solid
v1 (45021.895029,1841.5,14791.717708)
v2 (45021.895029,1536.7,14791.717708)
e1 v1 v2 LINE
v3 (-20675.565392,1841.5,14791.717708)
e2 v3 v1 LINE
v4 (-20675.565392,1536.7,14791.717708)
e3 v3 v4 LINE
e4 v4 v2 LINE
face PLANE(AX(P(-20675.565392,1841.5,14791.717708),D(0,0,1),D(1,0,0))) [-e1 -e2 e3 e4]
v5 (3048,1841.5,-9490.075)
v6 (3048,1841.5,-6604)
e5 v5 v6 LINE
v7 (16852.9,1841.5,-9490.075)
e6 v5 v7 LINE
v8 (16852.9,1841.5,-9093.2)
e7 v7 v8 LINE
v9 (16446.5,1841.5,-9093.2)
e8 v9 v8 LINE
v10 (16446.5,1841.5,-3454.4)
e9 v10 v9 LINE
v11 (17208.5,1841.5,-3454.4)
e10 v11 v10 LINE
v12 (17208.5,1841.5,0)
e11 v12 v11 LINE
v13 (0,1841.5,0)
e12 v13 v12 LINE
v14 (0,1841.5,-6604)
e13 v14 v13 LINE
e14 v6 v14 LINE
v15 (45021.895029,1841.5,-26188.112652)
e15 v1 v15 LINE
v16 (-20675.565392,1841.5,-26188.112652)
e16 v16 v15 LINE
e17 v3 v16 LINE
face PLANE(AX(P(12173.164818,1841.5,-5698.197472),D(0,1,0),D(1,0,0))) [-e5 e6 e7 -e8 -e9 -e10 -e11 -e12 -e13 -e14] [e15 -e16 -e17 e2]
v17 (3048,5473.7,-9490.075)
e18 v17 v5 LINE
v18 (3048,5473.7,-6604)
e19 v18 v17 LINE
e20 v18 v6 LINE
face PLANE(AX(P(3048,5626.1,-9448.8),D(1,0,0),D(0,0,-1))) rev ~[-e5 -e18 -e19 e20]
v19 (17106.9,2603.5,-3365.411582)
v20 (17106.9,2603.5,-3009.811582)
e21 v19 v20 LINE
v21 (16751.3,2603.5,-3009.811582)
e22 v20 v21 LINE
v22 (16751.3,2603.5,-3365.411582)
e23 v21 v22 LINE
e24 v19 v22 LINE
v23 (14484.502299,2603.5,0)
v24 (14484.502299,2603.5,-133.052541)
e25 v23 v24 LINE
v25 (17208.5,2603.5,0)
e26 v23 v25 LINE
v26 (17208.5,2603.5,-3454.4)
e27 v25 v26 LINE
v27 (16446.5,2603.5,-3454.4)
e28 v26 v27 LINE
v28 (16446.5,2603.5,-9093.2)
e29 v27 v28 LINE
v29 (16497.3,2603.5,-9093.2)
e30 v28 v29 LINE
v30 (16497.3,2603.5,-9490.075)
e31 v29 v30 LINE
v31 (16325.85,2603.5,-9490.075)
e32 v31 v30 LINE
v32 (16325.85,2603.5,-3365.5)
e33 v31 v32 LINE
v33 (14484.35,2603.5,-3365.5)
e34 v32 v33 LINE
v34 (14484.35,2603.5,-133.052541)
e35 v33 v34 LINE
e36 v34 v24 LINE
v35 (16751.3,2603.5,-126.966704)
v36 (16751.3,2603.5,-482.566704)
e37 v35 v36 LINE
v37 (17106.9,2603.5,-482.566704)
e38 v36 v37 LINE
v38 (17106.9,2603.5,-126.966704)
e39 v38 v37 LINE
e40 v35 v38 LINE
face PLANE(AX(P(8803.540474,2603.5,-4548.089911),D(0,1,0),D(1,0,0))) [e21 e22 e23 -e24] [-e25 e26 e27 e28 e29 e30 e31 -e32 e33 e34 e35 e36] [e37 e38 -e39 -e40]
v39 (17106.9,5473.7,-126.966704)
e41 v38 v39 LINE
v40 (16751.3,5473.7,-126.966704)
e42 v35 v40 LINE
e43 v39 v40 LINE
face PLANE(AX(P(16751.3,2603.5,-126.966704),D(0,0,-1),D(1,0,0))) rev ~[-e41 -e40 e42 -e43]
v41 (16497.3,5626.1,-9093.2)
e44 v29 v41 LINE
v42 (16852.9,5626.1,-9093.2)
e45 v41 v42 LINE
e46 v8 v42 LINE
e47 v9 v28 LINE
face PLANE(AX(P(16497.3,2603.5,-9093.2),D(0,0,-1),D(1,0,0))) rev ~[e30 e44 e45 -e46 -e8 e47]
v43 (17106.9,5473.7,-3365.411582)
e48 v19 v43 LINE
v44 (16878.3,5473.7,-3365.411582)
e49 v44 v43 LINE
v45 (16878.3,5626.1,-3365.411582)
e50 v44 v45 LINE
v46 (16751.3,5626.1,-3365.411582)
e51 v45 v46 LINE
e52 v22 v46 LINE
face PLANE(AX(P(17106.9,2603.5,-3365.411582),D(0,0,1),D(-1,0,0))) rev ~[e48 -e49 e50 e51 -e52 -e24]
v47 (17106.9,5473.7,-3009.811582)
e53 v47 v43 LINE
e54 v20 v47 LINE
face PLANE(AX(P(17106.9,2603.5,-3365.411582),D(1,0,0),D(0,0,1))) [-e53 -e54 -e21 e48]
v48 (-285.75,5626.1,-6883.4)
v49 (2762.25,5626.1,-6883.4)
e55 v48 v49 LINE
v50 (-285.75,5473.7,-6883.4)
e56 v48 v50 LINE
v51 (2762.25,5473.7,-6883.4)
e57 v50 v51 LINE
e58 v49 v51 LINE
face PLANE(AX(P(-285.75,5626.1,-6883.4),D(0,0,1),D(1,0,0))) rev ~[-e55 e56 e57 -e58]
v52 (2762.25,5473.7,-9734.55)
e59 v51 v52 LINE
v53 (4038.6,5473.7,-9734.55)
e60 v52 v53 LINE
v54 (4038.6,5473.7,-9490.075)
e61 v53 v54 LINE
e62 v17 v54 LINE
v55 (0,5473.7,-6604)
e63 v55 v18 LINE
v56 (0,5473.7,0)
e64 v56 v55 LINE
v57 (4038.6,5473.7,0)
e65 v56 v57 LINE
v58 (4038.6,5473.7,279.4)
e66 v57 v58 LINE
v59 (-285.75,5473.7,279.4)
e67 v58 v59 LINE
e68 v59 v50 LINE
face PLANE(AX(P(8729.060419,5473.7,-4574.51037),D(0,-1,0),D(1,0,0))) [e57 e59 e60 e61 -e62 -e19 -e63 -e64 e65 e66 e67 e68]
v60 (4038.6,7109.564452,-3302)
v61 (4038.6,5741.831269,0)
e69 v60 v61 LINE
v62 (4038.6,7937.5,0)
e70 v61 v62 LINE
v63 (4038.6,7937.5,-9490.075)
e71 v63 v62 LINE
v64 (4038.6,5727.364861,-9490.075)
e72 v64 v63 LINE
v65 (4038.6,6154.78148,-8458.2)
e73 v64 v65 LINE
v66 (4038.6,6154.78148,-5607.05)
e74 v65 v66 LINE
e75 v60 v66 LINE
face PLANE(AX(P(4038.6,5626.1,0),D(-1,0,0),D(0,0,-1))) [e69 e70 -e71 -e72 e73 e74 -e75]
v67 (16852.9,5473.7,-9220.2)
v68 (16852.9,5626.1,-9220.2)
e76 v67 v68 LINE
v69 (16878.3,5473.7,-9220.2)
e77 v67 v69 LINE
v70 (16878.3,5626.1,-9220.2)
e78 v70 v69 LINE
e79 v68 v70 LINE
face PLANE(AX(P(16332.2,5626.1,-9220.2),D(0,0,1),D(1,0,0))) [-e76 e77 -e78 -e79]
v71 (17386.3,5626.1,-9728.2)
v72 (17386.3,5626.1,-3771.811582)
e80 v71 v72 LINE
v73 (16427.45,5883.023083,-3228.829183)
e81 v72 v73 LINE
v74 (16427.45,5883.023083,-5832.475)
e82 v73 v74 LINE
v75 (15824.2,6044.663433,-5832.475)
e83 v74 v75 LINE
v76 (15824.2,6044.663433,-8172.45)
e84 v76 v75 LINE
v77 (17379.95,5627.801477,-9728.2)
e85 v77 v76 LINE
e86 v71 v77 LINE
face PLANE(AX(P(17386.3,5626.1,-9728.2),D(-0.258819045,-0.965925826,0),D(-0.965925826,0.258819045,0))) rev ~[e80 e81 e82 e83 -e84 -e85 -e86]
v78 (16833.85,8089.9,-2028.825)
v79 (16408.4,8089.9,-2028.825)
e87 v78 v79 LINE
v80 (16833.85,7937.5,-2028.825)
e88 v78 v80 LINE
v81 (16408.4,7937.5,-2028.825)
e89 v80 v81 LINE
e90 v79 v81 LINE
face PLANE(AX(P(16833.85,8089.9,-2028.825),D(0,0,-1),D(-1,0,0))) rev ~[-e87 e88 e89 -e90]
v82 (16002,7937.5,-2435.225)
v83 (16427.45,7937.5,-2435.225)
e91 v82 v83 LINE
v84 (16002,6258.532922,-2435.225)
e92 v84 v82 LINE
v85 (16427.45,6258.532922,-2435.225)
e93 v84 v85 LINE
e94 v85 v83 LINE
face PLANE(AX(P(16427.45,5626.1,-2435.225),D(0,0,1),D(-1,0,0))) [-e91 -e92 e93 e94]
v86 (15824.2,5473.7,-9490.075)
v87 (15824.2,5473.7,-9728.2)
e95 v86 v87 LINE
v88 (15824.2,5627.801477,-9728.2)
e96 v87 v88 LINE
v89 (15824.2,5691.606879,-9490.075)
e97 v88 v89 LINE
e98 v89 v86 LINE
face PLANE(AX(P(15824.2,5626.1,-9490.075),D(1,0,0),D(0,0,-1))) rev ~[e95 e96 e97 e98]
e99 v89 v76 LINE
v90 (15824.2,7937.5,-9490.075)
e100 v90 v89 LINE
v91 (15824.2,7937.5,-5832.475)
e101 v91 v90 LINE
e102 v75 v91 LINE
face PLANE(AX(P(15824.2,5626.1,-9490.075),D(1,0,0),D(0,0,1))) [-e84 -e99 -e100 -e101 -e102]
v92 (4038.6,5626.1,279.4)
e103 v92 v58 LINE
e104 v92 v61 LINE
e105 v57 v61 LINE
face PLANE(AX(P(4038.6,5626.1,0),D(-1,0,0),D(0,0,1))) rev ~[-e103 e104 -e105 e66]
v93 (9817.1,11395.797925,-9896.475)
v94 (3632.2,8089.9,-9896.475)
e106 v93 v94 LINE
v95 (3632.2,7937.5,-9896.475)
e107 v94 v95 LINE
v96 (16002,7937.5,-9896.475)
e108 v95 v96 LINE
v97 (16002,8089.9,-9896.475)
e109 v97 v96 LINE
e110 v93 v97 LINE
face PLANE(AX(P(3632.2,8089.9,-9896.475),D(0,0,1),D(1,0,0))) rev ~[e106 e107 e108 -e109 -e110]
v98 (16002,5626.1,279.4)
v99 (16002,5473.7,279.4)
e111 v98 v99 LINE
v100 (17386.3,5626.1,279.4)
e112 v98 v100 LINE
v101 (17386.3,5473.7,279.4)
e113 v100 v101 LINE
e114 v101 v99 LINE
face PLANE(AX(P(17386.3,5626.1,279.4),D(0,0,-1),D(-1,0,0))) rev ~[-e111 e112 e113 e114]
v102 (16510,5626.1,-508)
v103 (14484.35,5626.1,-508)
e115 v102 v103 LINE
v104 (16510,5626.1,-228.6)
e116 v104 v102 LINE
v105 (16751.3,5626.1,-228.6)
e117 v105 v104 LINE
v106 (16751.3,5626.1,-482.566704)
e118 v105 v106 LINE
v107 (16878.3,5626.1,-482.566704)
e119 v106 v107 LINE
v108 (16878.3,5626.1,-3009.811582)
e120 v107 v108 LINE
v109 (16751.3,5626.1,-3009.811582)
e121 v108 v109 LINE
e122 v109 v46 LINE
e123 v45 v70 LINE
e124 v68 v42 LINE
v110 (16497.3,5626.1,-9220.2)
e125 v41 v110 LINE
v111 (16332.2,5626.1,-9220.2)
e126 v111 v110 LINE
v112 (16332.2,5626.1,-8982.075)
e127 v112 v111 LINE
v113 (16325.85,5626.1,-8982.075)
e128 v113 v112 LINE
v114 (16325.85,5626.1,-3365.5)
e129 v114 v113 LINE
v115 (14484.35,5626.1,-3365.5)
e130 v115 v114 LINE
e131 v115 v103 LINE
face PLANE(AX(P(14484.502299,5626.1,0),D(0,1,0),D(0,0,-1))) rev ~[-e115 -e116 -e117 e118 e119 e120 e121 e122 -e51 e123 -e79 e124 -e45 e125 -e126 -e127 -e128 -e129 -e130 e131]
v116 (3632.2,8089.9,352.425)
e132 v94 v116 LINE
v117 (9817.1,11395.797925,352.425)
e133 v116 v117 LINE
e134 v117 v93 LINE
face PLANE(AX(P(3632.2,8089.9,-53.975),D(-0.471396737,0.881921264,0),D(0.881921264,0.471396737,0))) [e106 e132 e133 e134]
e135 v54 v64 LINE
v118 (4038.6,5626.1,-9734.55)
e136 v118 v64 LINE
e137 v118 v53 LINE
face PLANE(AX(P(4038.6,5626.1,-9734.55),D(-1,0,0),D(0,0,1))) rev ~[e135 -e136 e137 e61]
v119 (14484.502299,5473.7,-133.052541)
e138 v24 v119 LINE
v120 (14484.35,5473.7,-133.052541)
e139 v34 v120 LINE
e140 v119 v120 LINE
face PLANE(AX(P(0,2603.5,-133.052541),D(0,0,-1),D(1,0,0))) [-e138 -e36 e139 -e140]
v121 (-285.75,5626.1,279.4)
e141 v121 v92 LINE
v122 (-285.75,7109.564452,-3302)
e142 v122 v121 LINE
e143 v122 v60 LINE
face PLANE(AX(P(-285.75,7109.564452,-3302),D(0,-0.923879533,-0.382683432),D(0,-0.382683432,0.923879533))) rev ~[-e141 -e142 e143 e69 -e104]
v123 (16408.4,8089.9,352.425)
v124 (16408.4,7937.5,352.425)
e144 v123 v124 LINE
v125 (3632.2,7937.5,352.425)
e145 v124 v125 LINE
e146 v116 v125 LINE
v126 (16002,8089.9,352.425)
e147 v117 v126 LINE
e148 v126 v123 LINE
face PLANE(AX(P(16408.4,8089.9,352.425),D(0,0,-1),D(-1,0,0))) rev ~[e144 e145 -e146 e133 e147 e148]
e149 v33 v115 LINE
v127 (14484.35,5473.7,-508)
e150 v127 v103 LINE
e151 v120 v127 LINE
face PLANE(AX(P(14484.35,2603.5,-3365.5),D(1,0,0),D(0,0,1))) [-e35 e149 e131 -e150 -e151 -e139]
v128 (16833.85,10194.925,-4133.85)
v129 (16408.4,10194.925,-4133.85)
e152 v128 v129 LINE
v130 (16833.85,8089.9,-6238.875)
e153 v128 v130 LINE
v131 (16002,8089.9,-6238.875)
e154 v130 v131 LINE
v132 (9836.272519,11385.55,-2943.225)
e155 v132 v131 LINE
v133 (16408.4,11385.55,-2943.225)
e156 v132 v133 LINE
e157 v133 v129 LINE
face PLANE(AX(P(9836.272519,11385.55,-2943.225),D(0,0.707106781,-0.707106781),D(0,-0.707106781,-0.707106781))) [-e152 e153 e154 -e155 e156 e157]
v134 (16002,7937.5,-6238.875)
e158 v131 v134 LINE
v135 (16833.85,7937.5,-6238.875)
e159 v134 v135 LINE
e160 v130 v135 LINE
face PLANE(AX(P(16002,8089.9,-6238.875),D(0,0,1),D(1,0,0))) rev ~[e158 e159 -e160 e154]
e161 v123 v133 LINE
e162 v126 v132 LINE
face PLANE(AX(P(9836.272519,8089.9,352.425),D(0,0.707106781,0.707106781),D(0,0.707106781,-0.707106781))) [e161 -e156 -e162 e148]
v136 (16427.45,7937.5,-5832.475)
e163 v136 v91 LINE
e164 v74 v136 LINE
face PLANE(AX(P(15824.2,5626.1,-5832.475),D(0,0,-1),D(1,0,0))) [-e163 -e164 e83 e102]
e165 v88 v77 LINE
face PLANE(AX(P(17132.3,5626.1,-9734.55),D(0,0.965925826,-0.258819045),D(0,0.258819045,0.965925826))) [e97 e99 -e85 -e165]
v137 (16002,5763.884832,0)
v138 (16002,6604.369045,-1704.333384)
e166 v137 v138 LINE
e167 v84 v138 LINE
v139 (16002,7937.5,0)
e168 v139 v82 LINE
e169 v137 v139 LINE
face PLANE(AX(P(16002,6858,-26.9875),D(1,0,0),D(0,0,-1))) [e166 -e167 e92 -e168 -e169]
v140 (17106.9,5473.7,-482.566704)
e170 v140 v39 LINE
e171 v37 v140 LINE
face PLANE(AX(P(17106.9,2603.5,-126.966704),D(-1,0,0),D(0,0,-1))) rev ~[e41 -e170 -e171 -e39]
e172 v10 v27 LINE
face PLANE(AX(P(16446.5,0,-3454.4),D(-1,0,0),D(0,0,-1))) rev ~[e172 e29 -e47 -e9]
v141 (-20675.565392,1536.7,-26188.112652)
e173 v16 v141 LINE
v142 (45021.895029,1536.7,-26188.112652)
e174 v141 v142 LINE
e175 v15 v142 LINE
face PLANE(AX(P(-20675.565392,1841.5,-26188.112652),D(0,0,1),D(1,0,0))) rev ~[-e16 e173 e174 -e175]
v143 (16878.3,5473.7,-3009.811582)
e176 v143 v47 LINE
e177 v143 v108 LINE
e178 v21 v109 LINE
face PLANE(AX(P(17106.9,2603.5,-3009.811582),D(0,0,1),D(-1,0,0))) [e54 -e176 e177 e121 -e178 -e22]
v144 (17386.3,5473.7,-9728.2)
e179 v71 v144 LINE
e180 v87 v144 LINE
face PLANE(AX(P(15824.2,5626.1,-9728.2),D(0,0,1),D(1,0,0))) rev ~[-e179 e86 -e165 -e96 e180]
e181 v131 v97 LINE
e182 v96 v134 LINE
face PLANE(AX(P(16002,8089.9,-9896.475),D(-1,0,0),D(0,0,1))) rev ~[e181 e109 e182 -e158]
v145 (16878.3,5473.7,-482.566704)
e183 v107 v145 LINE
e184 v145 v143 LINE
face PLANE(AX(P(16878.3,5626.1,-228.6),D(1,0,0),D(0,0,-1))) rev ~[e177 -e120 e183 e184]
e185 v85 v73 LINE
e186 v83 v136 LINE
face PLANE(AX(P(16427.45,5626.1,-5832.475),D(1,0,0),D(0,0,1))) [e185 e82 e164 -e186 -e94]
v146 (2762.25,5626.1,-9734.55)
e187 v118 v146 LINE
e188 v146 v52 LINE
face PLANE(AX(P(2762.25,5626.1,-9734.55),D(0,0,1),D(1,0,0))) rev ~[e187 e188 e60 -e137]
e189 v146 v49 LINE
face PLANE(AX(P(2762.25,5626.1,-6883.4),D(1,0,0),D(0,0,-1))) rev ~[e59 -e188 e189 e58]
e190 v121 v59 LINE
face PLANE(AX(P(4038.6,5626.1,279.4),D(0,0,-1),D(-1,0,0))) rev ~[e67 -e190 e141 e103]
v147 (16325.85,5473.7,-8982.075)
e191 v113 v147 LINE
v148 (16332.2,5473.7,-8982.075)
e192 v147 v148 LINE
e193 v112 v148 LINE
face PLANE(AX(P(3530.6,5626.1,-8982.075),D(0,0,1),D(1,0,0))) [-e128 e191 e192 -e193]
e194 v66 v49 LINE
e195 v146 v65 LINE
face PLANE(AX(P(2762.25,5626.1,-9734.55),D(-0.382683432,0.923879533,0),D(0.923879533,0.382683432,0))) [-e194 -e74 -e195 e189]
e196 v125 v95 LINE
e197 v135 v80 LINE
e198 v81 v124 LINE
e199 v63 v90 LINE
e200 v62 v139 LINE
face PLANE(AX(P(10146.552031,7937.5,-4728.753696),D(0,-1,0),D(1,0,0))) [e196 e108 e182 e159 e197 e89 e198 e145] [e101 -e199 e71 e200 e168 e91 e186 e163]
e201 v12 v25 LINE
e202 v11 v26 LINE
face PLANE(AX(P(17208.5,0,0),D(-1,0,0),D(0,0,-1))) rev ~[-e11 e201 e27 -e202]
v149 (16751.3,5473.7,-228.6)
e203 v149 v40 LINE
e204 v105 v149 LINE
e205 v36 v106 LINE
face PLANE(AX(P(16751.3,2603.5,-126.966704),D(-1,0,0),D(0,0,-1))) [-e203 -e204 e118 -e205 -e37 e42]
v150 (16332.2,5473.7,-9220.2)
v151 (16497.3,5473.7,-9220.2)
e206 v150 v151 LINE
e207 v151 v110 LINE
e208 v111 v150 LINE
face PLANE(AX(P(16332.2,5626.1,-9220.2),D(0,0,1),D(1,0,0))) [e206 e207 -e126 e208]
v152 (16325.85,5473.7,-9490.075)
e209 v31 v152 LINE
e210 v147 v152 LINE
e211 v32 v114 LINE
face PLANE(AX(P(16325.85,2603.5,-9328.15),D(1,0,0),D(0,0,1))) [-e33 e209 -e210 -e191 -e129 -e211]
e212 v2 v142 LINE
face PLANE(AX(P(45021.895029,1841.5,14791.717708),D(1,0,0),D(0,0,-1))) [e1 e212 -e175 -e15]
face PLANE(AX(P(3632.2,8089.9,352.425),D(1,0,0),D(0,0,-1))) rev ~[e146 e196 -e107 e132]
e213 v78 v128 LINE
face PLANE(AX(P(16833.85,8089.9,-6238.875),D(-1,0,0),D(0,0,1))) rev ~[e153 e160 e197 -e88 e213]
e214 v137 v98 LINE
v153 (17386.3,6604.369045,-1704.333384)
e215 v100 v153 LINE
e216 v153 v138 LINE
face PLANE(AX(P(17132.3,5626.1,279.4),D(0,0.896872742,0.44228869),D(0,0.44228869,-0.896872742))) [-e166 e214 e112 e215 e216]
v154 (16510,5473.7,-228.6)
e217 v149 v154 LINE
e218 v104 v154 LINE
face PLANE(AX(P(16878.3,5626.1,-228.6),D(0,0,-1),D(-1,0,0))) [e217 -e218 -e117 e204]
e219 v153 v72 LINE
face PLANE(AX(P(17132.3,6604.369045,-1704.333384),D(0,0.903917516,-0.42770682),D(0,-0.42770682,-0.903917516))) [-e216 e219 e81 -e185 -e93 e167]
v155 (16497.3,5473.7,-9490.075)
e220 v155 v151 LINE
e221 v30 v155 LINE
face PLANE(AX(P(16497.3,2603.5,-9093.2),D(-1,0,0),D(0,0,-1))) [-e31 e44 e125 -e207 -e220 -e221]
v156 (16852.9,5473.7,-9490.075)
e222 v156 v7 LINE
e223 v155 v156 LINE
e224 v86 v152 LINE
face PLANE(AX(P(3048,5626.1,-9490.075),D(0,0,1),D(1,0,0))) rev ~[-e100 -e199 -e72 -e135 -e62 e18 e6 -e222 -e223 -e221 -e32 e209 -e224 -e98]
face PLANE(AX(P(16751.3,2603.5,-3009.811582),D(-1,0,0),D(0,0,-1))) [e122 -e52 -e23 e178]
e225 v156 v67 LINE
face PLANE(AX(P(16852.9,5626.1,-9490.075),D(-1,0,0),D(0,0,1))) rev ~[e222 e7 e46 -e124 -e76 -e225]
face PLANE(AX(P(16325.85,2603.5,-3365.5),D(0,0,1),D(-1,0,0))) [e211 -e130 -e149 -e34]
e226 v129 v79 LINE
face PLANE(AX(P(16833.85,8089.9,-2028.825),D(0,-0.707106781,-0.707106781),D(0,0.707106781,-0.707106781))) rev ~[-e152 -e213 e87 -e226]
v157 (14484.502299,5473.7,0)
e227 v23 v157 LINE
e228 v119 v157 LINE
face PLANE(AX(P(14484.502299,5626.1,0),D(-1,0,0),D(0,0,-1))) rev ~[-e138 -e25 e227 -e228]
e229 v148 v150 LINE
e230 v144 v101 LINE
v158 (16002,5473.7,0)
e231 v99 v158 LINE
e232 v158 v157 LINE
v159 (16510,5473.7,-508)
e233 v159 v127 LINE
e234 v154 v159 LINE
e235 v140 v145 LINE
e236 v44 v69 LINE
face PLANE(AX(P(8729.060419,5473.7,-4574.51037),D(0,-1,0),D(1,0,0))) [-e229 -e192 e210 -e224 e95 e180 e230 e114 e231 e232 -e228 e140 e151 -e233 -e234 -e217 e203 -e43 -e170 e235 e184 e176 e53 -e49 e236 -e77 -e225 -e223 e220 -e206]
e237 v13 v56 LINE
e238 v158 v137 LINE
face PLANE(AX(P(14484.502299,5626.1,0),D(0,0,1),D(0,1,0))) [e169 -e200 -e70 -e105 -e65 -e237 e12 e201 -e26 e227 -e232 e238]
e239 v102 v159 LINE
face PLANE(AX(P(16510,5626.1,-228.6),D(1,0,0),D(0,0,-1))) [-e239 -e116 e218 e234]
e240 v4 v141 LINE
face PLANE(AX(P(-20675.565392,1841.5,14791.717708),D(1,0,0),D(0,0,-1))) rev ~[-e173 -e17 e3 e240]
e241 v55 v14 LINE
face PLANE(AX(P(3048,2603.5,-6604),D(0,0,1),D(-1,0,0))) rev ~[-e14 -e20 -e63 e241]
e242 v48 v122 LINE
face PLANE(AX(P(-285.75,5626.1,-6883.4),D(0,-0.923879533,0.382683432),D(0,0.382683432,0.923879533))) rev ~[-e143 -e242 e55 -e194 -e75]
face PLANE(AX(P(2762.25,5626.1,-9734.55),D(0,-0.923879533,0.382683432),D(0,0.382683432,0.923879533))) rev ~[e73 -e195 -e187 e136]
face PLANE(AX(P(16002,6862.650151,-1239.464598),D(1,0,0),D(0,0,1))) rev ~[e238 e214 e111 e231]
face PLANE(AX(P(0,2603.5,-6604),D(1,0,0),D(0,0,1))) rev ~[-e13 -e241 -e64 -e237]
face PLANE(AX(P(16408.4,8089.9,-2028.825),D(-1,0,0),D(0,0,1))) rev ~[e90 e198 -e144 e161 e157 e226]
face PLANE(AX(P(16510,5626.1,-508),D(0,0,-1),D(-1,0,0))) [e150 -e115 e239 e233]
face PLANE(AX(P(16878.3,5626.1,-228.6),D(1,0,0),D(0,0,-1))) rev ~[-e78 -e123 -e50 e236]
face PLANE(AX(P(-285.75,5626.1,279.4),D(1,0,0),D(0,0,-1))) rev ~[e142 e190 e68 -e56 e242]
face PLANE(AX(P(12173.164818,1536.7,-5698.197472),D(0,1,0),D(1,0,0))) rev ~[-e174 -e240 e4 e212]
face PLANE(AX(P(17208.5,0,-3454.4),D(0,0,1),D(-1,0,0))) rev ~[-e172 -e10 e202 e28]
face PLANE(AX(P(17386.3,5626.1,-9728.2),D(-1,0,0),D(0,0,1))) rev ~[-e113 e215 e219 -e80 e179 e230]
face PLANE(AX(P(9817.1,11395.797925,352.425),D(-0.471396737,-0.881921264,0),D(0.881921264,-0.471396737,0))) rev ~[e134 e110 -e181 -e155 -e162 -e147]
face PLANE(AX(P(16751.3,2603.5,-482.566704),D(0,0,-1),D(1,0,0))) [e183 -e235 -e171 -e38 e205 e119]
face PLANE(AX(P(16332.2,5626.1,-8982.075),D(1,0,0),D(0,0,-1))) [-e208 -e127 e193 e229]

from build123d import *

# Parameters (mm, degrees)
BOSS_EXTRUDE1_DEPTH              = 2603.5
BOSS_EXTRUDE2_DEPTH              = 3022.6
BOSS_EXTRUDE3_DEPTH              = 2463.8
SKETCH4_W                        = 65697.460420921
SKETCH4_H                        = 40979.830360303
BOSS_EXTRUDE4_DEPTH              = 304.8
SKETCH5_W                        = 21895.016639369
SKETCH5_H                        = 12322.560301516
CUT_EXTRUDE1_DEPTH               = 1905
BOSS_EXTRUDE5_REACH              = 52955.248
BOSS_EXTRUDE6_REACH              = 51905.327
CUT_EXTRUDE2_DEPTH               = 1276.35
BOSS_EXTRUDE7_REACH              = 51982.038
BOSS_EXTRUDE8_DEPTH              = 406.4
CUT_EXTRUDE3_DEPTH               = 11303
BOSS_EXTRUDE9_REACH              = 47146.859
BOSS_EXTRUDE10_START             = -6572.127481
BOSS_EXTRUDE10_DEPTH             = 6572.127481
SKETCH15_W                       = 355.6
SKETCH15_H                       = 355.6
BOSS_EXTRUDE11_DEPTH             = 3022.6
BOSS_EXTRUDE12_DEPTH             = 7362.952
CUT_EXTRUDE4_DEPTH               = 304.8
CUT_EXTRUDE4_DEPTH_BACK          = 1308.1
BOSS_EXTRUDE13_REACH             = 47384.657
BOSS_EXTRUDE13_DIRECTION_2_DEPTH = 254
SKETCH19_W                       = 14484.502299334
SKETCH19_H                       = 133.052541355
BOSS_EXTRUDE14_DEPTH             = 3022.6
SKETCH20_W                       = 10445.902299334
SKETCH20_H                       = 57.769049229
BOSS_EXTRUDE15_DEPTH             = 2601.214
SKETCH22_W                       = 53.975
SKETCH22_H                       = 2463.8
BOSS_EXTRUDE17_DEPTH             = 1517.497700666
BOSS_EXTRUDE18_DEPTH             = 3022.6
BOSS_EXTRUDE19_DEPTH             = 3784.6
BOSS_EXTRUDE20_DEPTH             = 152.4
BOSS_EXTRUDE21_DEPTH             = 152.4
SKETCH27_W                       = 171.45
SKETCH27_H                       = 2870.2
CUT_EXTRUDE5_DEPTH               = 405.13


with BuildPart() as part:
    # Sketch1 → Boss-Extrude1 (new body)
    with BuildSketch(Plane(origin=(0, 0, 0), x_dir=(1, 0, 0), z_dir=(0, 1, 0))):
        Polygon((0, 0), (17208.5, 0), (17208.5, 3454.4), (16446.5, 3454.4), (16446.5, 9093.2), (16852.9, 9093.2), (16852.9, 9448.8), (16446.5, 9448.8), (3048, 9448.8), (3048, 6604), (0, 6604), align=None)
    extrude(amount=BOSS_EXTRUDE1_DEPTH)

    # Sketch2 → Boss-Extrude2 (add)
    with BuildSketch(Plane(origin=(0, 2603.5, 0), x_dir=(1, 0, 0), z_dir=(0, 1, 0))):
        Polygon((120.65, 127), (120.65, 6477), (3168.65, 6477), (3168.65, 9328.15), (16325.85, 9328.15), (16325.85, 3365.5), (14484.35, 3365.5), (14484.35, 127), align=None)
    extrude(amount=BOSS_EXTRUDE2_DEPTH)

    # Sketch3 → Boss-Extrude3 (add)
    with BuildSketch(Plane(origin=(0, 5626.1, 0), x_dir=(1, 0, 0), z_dir=(0, 1, 0))):
        Polygon((4038.6, 9490.075), (15824.2, 9490.075), (15824.2, 5832.475), (16427.45, 5832.475), (16427.45, 2435.225), (16002, 2435.225), (16002, 53.975), (4038.6, 53.975), align=None)
    extrude(amount=BOSS_EXTRUDE3_DEPTH)

    # Sketch4 → Boss-Extrude4 (add)
    with BuildSketch(Plane(origin=(0, 1841.5, 0), x_dir=(1, 0, 0), z_dir=(0, 1, 0))):
        with Locations((12173.164818329, 5698.197471797)):
            Rectangle(SKETCH4_W, SKETCH4_H)
    extrude(amount=-BOSS_EXTRUDE4_DEPTH)

    # Sketch5 → Cut-Extrude1 (cut)
    with BuildSketch(Plane.XZ.offset(-1536.7)):
        with Locations((8389.493403635, -5047.013792364)):
            Rectangle(SKETCH5_W, SKETCH5_H)
    extrude(amount=CUT_EXTRUDE1_DEPTH, mode=Mode.SUBTRACT)

    # Boss-Extrude5: up to this face of the body (flat: up to its plane)
    boss_extrude5_end = Plane(part.part.faces().sort_by_distance((4038.6, 6858, -4772.025))[0])
    # Sketch6 → Boss-Extrude5 (add, up to the picked face)
    with BuildSketch(Plane.ZY.offset(285.75), mode=Mode.PRIVATE) as boss_extrude5_sk1:
        Polygon((-127, 5626.1), (-6477, 5626.1), (-6883.4, 5626.1), (-3302, 7109.564452283), (279.4, 5626.1), align=None)
    boss_extrude5_tool1 = split(extrude(boss_extrude5_sk1.sketch, amount=-BOSS_EXTRUDE5_REACH, mode=Mode.PRIVATE), bisect_by=boss_extrude5_end, keep=Keep.BOTH, mode=Mode.PRIVATE)
    add(boss_extrude5_tool1.solids().sort_by(Axis((-285.75, 6120.588151, -3302), (1, 0, 0)))[0])

    # Boss-Extrude6: up to this plane
    boss_extrude6_end = Plane(origin=(11353.4048929, 5626.1, -6883.4), z_dir=(0, 0.9238795325112832, -0.38268343236509844))
    # Sketch8 → Boss-Extrude6 (add, up to the surface)
    with BuildSketch(Plane(origin=(0, 0, -9734.55), x_dir=(-1, 0, 0), z_dir=(0, 0, -1)), mode=Mode.PRIVATE) as boss_extrude6_sk1:
        Polygon((-4038.6, 5626.1), (-3168.65, 5626.1), (-2762.25, 5626.1), (-4038.6, 6154.781480335), align=None)
    boss_extrude6_tool1 = split(extrude(boss_extrude6_sk1.sketch, amount=-BOSS_EXTRUDE6_REACH, mode=Mode.PRIVATE), bisect_by=boss_extrude6_end, keep=Keep.BOTH, mode=Mode.PRIVATE)
    add(boss_extrude6_tool1.solids().sort_by_distance((3613.15, 5802.32716, -9734.55))[0])

    # Sketch9 → Cut-Extrude2 (cut)
    with BuildSketch(Plane.ZY.offset(-2762.25)):
        Polygon((-9734.55, 5626.1), (-8458.2, 6154.781480335), (-9734.55, 6154.781480335), align=None)
    extrude(amount=-CUT_EXTRUDE2_DEPTH, mode=Mode.SUBTRACT)

    # Boss-Extrude7: up to this face of the body (flat: up to its plane)
    boss_extrude7_end = Plane(part.part.faces().sort_by_distance((10020.3, 6858, -53.975))[0])
    # Sketch10 → Boss-Extrude7 (add, up to the picked face)
    with BuildSketch(Plane(origin=(0, 0, -9896.475), x_dir=(-1, 0, 0), z_dir=(0, 0, -1)), mode=Mode.PRIVATE) as boss_extrude7_sk1:
        Polygon((-4038.6, 8089.9), (-15824.2, 8089.9), (-16230.6, 8089.9), (-9931.4, 11456.892547581), (-3632.2, 8089.9), align=None)
    boss_extrude7_tool1 = split(extrude(boss_extrude7_sk1.sketch, amount=-BOSS_EXTRUDE7_REACH, mode=Mode.PRIVATE), bisect_by=boss_extrude7_end, keep=Keep.BOTH, mode=Mode.PRIVATE)
    add(boss_extrude7_tool1.solids().sort_by(Axis((9931.4, 9212.230849, -9896.475), (0, 0, 1)))[0])

    # Sketch11 → Boss-Extrude8 (add)
    with BuildSketch(Plane.XY.offset(-53.975)):
        Polygon((3632.2, 8089.9), (9931.4, 11456.892547581), (16230.6, 8089.9), align=None)
    extrude(amount=BOSS_EXTRUDE8_DEPTH)

    # Sketch12 → Cut-Extrude3 (cut)
    with BuildSketch(Plane.XY.offset(352.425)):
        Polygon((16002, 8089.9), (16230.6, 8089.9), (9931.4, 11456.892547581), (9817.1, 11395.797924742), align=None)
    extrude(amount=-CUT_EXTRUDE3_DEPTH, mode=Mode.SUBTRACT)

    # Boss-Extrude9: up to this plane
    boss_extrude9_end = Plane(origin=(16002, 8089.9, -10950.575), z_dir=(-0.47139673682599864, -0.8819212643483546, 0))
    # Sketch13 → Boss-Extrude9 (add, up to the surface)
    with BuildSketch(Plane(origin=(16833.85, 0, 0), x_dir=(0, 0, -1), z_dir=(1, 0, 0)), mode=Mode.PRIVATE) as boss_extrude9_sk1:
        Polygon((5832.475, 8089.9), (2435.225, 8089.9), (2028.825, 8089.9), (4133.85, 10194.925), (6238.875, 8089.9), align=None)
    boss_extrude9_tool1 = split(extrude(boss_extrude9_sk1.sketch, amount=-BOSS_EXTRUDE9_REACH, mode=Mode.PRIVATE), bisect_by=boss_extrude9_end, keep=Keep.BOTH, mode=Mode.PRIVATE)
    add(boss_extrude9_tool1.solids().sort_by_distance((16833.85, 8791.575, -4133.85))[0])

    # Sketch14 → Boss-Extrude10 (add)
    with BuildSketch(Plane(origin=(16408.4, 0, 0), x_dir=(0, 0, -1), z_dir=(1, 0, 0)).offset(BOSS_EXTRUDE10_START)):
        Polygon((-352.425, 8089.9), (2943.225, 11385.55), (4133.85, 10194.925), (2028.825, 8089.9), align=None)
    extrude(amount=BOSS_EXTRUDE10_DEPTH)

    # Sketch15 → Boss-Extrude11 (add)
    with BuildSketch(Plane(origin=(0, 2603.5, 0), x_dir=(1, 0, 0), z_dir=(0, 1, 0))):
        with Locations((16675.1, 9271)):
            Rectangle(SKETCH15_W, SKETCH15_H)
        Polygon((17106.9, 3009.811581855), (16751.3, 3009.811581855), (16751.3, 3365.411581855), (16778.823557109, 3365.411581855), (17106.9, 3365.411581855), align=None)
        with Locations((16929.1, 304.76670394)):
            Rectangle(SKETCH15_W, SKETCH15_H)
    extrude(amount=BOSS_EXTRUDE11_DEPTH)

    # Sketch16 → Boss-Extrude12 (add)
    with BuildSketch(Plane(origin=(0, 0, -9728.2), x_dir=(-1, 0, 0), z_dir=(0, 0, -1))):
        Polygon((-15824.2, 5626.1), (-17106.9, 5626.1), (-17386.3, 5626.1), (-15824.2, 6044.663433497), align=None)
    extrude(amount=-BOSS_EXTRUDE12_DEPTH)

    # Sketch17 → Cut-Extrude4 (cut, two sides)
    with BuildSketch(Plane(origin=(17132.3, 0, 0), x_dir=(0, 0, -1), z_dir=(1, 0, 0))) as cut_extrude4_sk:
        Polygon((9734.55, 5626.1), (8172.45, 6044.663433497), (9728.2, 6044.663433497), align=None)
    extrude(amount=CUT_EXTRUDE4_DEPTH, mode=Mode.SUBTRACT)
    extrude(cut_extrude4_sk.sketch, amount=-CUT_EXTRUDE4_DEPTH_BACK, mode=Mode.SUBTRACT)

    # Boss-Extrude13: up to this face of the body (flat: up to its plane)
    boss_extrude13_end = Plane(part.part.faces().sort_by_distance((16002, 6862.650151337, -1239.464598139))[0])
    # Sketch18 → Boss-Extrude13 (add, up to the picked face)
    with BuildSketch(Plane(origin=(17132.3, 0, 0), x_dir=(0, 0, -1), z_dir=(1, 0, 0)), mode=Mode.PRIVATE) as boss_extrude13_sk1:
        Polygon((-279.4, 5626.1), (1704.333383775, 6604.369044674), (3771.811581855, 5626.1), (3365.411581855, 5626.1), (126.96670394, 5626.1), align=None)
    boss_extrude13_tool1 = split(extrude(boss_extrude13_sk1.sketch, amount=-BOSS_EXTRUDE13_REACH, mode=Mode.PRIVATE), bisect_by=boss_extrude13_end, keep=Keep.BOTH, mode=Mode.PRIVATE)
    add(boss_extrude13_tool1.solids().sort_by(Axis((17132.3, 5952.189682, -1732.248322), (-1, 0, 0)))[0])

    # Sketch18 → Boss-Extrude13 direction 2 (add)
    with BuildSketch(Plane(origin=(17132.3, 0, 0), x_dir=(0, 0, -1), z_dir=(1, 0, 0))):
        Polygon((-279.4, 5626.1), (1704.333383775, 6604.369044674), (3771.811581855, 5626.1), (3365.411581855, 5626.1), (126.96670394, 5626.1), align=None)
    extrude(amount=BOSS_EXTRUDE13_DIRECTION_2_DEPTH)

    # Sketch19 → Boss-Extrude14 (add)
    with BuildSketch(Plane(origin=(0, 2603.5, 0), x_dir=(1, 0, 0), z_dir=(0, 1, 0))):
        with Locations((7242.251149667, 66.526270678)):
            Rectangle(SKETCH19_W, SKETCH19_H)
    extrude(amount=BOSS_EXTRUDE14_DEPTH)

    # Sketch20 → Boss-Extrude15 (add)
    with BuildSketch(Plane(origin=(0, 5626.1, 0), x_dir=(1, 0, 0), z_dir=(0, 1, 0))):
        with Locations((9261.551149667, 28.884524615)):
            Rectangle(SKETCH20_W, SKETCH20_H)
    extrude(amount=BOSS_EXTRUDE15_DEPTH)

    # Sketch22 → Boss-Extrude17 (add)
    with BuildSketch(Plane(origin=(14484.502299334, 0, 0), x_dir=(0, 0, -1), z_dir=(1, 0, 0))):
        with Locations((26.9875, 6858)):
            Rectangle(SKETCH22_W, SKETCH22_H)
    extrude(amount=BOSS_EXTRUDE17_DEPTH)

    # Sketch23 → Boss-Extrude18 (add)
    with BuildSketch(Plane(origin=(0, 2603.5, 0), x_dir=(1, 0, 0), z_dir=(0, 1, 0))):
        Polygon((0, 6604), (0, 133.052541355), (120.65, 133.052541355), (120.65, 6477), (3168.65, 6477), (3168.65, 9328.15), (16497.3, 9328.15), (16497.3, 9448.8), (3168.65, 9448.8), (3048, 9448.8), (3048, 6604), align=None)
    extrude(amount=BOSS_EXTRUDE18_DEPTH)

    # Sketch24 → Boss-Extrude19 (add)
    with BuildSketch(Plane.XZ.offset(-5626.1)):
        Polygon((16852.9, -9448.8), (4038.6, -9448.8), (3048, -9448.8), (3048, -9490.075), (4038.6, -9490.075), (16852.9, -9490.075), align=None)
    extrude(amount=BOSS_EXTRUDE19_DEPTH)

    # Sketch25 → Boss-Extrude20 (add)
    with BuildSketch(Plane.XZ.offset(-8089.9)):
        Polygon((3632.2, 352.425), (3632.2, -9896.475), (16002, -9896.475), (16002, -6238.875), (16833.85, -6238.875), (16833.85, -2028.825), (16408.4, -2028.825), (16408.4, 352.425), (16002, 352.425), align=None)
        Polygon((4140.2, -155.575), (4140.2, -9388.475), (15494, -9388.475), (15494, -5730.875), (16325.85, -5730.875), (16325.85, -2536.825), (15900.4, -2536.825), (15900.4, -155.575), align=None, mode=Mode.SUBTRACT)
    extrude(amount=BOSS_EXTRUDE20_DEPTH)

    # Sketch26 → Boss-Extrude21 (add)
    with BuildSketch(Plane.XZ.offset(-5626.1)):
        Polygon((4038.6, 0), (4038.6, 279.4), (-285.75, 279.4), (-285.75, -6883.4), (2762.25, -6883.4), (2762.25, -9734.55), (4038.6, -9734.55), (4038.6, -9490.075), (15824.2, -9490.075), (15824.2, -9728.2), (17386.3, -9728.2), (17386.3, -3771.811581855), (17386.3, 279.4), (16002, 279.4), (16002, 0), align=None)
        Polygon((3530.6, -508), (3530.6, -228.6), (222.25, -228.6), (222.25, -6375.4), (3270.25, -6375.4), (3270.25, -9226.55), (3530.6, -9226.55), (3530.6, -8982.075), (16332.2, -8982.075), (16332.2, -9220.2), (16878.3, -9220.2), (16878.3, -3771.811581855), (16878.3, -228.6), (16510, -228.6), (16510, -508), align=None, mode=Mode.SUBTRACT)
    extrude(amount=BOSS_EXTRUDE21_DEPTH)

    # Sketch27 → Cut-Extrude5 (cut)
    with BuildSketch(Plane.XY.offset(-9328.15)):
        with Locations((16411.575, 4038.6)):
            Rectangle(SKETCH27_W, SKETCH27_H)
    extrude(amount=-CUT_EXTRUDE5_DEPTH, mode=Mode.SUBTRACT)


solid = part.part
